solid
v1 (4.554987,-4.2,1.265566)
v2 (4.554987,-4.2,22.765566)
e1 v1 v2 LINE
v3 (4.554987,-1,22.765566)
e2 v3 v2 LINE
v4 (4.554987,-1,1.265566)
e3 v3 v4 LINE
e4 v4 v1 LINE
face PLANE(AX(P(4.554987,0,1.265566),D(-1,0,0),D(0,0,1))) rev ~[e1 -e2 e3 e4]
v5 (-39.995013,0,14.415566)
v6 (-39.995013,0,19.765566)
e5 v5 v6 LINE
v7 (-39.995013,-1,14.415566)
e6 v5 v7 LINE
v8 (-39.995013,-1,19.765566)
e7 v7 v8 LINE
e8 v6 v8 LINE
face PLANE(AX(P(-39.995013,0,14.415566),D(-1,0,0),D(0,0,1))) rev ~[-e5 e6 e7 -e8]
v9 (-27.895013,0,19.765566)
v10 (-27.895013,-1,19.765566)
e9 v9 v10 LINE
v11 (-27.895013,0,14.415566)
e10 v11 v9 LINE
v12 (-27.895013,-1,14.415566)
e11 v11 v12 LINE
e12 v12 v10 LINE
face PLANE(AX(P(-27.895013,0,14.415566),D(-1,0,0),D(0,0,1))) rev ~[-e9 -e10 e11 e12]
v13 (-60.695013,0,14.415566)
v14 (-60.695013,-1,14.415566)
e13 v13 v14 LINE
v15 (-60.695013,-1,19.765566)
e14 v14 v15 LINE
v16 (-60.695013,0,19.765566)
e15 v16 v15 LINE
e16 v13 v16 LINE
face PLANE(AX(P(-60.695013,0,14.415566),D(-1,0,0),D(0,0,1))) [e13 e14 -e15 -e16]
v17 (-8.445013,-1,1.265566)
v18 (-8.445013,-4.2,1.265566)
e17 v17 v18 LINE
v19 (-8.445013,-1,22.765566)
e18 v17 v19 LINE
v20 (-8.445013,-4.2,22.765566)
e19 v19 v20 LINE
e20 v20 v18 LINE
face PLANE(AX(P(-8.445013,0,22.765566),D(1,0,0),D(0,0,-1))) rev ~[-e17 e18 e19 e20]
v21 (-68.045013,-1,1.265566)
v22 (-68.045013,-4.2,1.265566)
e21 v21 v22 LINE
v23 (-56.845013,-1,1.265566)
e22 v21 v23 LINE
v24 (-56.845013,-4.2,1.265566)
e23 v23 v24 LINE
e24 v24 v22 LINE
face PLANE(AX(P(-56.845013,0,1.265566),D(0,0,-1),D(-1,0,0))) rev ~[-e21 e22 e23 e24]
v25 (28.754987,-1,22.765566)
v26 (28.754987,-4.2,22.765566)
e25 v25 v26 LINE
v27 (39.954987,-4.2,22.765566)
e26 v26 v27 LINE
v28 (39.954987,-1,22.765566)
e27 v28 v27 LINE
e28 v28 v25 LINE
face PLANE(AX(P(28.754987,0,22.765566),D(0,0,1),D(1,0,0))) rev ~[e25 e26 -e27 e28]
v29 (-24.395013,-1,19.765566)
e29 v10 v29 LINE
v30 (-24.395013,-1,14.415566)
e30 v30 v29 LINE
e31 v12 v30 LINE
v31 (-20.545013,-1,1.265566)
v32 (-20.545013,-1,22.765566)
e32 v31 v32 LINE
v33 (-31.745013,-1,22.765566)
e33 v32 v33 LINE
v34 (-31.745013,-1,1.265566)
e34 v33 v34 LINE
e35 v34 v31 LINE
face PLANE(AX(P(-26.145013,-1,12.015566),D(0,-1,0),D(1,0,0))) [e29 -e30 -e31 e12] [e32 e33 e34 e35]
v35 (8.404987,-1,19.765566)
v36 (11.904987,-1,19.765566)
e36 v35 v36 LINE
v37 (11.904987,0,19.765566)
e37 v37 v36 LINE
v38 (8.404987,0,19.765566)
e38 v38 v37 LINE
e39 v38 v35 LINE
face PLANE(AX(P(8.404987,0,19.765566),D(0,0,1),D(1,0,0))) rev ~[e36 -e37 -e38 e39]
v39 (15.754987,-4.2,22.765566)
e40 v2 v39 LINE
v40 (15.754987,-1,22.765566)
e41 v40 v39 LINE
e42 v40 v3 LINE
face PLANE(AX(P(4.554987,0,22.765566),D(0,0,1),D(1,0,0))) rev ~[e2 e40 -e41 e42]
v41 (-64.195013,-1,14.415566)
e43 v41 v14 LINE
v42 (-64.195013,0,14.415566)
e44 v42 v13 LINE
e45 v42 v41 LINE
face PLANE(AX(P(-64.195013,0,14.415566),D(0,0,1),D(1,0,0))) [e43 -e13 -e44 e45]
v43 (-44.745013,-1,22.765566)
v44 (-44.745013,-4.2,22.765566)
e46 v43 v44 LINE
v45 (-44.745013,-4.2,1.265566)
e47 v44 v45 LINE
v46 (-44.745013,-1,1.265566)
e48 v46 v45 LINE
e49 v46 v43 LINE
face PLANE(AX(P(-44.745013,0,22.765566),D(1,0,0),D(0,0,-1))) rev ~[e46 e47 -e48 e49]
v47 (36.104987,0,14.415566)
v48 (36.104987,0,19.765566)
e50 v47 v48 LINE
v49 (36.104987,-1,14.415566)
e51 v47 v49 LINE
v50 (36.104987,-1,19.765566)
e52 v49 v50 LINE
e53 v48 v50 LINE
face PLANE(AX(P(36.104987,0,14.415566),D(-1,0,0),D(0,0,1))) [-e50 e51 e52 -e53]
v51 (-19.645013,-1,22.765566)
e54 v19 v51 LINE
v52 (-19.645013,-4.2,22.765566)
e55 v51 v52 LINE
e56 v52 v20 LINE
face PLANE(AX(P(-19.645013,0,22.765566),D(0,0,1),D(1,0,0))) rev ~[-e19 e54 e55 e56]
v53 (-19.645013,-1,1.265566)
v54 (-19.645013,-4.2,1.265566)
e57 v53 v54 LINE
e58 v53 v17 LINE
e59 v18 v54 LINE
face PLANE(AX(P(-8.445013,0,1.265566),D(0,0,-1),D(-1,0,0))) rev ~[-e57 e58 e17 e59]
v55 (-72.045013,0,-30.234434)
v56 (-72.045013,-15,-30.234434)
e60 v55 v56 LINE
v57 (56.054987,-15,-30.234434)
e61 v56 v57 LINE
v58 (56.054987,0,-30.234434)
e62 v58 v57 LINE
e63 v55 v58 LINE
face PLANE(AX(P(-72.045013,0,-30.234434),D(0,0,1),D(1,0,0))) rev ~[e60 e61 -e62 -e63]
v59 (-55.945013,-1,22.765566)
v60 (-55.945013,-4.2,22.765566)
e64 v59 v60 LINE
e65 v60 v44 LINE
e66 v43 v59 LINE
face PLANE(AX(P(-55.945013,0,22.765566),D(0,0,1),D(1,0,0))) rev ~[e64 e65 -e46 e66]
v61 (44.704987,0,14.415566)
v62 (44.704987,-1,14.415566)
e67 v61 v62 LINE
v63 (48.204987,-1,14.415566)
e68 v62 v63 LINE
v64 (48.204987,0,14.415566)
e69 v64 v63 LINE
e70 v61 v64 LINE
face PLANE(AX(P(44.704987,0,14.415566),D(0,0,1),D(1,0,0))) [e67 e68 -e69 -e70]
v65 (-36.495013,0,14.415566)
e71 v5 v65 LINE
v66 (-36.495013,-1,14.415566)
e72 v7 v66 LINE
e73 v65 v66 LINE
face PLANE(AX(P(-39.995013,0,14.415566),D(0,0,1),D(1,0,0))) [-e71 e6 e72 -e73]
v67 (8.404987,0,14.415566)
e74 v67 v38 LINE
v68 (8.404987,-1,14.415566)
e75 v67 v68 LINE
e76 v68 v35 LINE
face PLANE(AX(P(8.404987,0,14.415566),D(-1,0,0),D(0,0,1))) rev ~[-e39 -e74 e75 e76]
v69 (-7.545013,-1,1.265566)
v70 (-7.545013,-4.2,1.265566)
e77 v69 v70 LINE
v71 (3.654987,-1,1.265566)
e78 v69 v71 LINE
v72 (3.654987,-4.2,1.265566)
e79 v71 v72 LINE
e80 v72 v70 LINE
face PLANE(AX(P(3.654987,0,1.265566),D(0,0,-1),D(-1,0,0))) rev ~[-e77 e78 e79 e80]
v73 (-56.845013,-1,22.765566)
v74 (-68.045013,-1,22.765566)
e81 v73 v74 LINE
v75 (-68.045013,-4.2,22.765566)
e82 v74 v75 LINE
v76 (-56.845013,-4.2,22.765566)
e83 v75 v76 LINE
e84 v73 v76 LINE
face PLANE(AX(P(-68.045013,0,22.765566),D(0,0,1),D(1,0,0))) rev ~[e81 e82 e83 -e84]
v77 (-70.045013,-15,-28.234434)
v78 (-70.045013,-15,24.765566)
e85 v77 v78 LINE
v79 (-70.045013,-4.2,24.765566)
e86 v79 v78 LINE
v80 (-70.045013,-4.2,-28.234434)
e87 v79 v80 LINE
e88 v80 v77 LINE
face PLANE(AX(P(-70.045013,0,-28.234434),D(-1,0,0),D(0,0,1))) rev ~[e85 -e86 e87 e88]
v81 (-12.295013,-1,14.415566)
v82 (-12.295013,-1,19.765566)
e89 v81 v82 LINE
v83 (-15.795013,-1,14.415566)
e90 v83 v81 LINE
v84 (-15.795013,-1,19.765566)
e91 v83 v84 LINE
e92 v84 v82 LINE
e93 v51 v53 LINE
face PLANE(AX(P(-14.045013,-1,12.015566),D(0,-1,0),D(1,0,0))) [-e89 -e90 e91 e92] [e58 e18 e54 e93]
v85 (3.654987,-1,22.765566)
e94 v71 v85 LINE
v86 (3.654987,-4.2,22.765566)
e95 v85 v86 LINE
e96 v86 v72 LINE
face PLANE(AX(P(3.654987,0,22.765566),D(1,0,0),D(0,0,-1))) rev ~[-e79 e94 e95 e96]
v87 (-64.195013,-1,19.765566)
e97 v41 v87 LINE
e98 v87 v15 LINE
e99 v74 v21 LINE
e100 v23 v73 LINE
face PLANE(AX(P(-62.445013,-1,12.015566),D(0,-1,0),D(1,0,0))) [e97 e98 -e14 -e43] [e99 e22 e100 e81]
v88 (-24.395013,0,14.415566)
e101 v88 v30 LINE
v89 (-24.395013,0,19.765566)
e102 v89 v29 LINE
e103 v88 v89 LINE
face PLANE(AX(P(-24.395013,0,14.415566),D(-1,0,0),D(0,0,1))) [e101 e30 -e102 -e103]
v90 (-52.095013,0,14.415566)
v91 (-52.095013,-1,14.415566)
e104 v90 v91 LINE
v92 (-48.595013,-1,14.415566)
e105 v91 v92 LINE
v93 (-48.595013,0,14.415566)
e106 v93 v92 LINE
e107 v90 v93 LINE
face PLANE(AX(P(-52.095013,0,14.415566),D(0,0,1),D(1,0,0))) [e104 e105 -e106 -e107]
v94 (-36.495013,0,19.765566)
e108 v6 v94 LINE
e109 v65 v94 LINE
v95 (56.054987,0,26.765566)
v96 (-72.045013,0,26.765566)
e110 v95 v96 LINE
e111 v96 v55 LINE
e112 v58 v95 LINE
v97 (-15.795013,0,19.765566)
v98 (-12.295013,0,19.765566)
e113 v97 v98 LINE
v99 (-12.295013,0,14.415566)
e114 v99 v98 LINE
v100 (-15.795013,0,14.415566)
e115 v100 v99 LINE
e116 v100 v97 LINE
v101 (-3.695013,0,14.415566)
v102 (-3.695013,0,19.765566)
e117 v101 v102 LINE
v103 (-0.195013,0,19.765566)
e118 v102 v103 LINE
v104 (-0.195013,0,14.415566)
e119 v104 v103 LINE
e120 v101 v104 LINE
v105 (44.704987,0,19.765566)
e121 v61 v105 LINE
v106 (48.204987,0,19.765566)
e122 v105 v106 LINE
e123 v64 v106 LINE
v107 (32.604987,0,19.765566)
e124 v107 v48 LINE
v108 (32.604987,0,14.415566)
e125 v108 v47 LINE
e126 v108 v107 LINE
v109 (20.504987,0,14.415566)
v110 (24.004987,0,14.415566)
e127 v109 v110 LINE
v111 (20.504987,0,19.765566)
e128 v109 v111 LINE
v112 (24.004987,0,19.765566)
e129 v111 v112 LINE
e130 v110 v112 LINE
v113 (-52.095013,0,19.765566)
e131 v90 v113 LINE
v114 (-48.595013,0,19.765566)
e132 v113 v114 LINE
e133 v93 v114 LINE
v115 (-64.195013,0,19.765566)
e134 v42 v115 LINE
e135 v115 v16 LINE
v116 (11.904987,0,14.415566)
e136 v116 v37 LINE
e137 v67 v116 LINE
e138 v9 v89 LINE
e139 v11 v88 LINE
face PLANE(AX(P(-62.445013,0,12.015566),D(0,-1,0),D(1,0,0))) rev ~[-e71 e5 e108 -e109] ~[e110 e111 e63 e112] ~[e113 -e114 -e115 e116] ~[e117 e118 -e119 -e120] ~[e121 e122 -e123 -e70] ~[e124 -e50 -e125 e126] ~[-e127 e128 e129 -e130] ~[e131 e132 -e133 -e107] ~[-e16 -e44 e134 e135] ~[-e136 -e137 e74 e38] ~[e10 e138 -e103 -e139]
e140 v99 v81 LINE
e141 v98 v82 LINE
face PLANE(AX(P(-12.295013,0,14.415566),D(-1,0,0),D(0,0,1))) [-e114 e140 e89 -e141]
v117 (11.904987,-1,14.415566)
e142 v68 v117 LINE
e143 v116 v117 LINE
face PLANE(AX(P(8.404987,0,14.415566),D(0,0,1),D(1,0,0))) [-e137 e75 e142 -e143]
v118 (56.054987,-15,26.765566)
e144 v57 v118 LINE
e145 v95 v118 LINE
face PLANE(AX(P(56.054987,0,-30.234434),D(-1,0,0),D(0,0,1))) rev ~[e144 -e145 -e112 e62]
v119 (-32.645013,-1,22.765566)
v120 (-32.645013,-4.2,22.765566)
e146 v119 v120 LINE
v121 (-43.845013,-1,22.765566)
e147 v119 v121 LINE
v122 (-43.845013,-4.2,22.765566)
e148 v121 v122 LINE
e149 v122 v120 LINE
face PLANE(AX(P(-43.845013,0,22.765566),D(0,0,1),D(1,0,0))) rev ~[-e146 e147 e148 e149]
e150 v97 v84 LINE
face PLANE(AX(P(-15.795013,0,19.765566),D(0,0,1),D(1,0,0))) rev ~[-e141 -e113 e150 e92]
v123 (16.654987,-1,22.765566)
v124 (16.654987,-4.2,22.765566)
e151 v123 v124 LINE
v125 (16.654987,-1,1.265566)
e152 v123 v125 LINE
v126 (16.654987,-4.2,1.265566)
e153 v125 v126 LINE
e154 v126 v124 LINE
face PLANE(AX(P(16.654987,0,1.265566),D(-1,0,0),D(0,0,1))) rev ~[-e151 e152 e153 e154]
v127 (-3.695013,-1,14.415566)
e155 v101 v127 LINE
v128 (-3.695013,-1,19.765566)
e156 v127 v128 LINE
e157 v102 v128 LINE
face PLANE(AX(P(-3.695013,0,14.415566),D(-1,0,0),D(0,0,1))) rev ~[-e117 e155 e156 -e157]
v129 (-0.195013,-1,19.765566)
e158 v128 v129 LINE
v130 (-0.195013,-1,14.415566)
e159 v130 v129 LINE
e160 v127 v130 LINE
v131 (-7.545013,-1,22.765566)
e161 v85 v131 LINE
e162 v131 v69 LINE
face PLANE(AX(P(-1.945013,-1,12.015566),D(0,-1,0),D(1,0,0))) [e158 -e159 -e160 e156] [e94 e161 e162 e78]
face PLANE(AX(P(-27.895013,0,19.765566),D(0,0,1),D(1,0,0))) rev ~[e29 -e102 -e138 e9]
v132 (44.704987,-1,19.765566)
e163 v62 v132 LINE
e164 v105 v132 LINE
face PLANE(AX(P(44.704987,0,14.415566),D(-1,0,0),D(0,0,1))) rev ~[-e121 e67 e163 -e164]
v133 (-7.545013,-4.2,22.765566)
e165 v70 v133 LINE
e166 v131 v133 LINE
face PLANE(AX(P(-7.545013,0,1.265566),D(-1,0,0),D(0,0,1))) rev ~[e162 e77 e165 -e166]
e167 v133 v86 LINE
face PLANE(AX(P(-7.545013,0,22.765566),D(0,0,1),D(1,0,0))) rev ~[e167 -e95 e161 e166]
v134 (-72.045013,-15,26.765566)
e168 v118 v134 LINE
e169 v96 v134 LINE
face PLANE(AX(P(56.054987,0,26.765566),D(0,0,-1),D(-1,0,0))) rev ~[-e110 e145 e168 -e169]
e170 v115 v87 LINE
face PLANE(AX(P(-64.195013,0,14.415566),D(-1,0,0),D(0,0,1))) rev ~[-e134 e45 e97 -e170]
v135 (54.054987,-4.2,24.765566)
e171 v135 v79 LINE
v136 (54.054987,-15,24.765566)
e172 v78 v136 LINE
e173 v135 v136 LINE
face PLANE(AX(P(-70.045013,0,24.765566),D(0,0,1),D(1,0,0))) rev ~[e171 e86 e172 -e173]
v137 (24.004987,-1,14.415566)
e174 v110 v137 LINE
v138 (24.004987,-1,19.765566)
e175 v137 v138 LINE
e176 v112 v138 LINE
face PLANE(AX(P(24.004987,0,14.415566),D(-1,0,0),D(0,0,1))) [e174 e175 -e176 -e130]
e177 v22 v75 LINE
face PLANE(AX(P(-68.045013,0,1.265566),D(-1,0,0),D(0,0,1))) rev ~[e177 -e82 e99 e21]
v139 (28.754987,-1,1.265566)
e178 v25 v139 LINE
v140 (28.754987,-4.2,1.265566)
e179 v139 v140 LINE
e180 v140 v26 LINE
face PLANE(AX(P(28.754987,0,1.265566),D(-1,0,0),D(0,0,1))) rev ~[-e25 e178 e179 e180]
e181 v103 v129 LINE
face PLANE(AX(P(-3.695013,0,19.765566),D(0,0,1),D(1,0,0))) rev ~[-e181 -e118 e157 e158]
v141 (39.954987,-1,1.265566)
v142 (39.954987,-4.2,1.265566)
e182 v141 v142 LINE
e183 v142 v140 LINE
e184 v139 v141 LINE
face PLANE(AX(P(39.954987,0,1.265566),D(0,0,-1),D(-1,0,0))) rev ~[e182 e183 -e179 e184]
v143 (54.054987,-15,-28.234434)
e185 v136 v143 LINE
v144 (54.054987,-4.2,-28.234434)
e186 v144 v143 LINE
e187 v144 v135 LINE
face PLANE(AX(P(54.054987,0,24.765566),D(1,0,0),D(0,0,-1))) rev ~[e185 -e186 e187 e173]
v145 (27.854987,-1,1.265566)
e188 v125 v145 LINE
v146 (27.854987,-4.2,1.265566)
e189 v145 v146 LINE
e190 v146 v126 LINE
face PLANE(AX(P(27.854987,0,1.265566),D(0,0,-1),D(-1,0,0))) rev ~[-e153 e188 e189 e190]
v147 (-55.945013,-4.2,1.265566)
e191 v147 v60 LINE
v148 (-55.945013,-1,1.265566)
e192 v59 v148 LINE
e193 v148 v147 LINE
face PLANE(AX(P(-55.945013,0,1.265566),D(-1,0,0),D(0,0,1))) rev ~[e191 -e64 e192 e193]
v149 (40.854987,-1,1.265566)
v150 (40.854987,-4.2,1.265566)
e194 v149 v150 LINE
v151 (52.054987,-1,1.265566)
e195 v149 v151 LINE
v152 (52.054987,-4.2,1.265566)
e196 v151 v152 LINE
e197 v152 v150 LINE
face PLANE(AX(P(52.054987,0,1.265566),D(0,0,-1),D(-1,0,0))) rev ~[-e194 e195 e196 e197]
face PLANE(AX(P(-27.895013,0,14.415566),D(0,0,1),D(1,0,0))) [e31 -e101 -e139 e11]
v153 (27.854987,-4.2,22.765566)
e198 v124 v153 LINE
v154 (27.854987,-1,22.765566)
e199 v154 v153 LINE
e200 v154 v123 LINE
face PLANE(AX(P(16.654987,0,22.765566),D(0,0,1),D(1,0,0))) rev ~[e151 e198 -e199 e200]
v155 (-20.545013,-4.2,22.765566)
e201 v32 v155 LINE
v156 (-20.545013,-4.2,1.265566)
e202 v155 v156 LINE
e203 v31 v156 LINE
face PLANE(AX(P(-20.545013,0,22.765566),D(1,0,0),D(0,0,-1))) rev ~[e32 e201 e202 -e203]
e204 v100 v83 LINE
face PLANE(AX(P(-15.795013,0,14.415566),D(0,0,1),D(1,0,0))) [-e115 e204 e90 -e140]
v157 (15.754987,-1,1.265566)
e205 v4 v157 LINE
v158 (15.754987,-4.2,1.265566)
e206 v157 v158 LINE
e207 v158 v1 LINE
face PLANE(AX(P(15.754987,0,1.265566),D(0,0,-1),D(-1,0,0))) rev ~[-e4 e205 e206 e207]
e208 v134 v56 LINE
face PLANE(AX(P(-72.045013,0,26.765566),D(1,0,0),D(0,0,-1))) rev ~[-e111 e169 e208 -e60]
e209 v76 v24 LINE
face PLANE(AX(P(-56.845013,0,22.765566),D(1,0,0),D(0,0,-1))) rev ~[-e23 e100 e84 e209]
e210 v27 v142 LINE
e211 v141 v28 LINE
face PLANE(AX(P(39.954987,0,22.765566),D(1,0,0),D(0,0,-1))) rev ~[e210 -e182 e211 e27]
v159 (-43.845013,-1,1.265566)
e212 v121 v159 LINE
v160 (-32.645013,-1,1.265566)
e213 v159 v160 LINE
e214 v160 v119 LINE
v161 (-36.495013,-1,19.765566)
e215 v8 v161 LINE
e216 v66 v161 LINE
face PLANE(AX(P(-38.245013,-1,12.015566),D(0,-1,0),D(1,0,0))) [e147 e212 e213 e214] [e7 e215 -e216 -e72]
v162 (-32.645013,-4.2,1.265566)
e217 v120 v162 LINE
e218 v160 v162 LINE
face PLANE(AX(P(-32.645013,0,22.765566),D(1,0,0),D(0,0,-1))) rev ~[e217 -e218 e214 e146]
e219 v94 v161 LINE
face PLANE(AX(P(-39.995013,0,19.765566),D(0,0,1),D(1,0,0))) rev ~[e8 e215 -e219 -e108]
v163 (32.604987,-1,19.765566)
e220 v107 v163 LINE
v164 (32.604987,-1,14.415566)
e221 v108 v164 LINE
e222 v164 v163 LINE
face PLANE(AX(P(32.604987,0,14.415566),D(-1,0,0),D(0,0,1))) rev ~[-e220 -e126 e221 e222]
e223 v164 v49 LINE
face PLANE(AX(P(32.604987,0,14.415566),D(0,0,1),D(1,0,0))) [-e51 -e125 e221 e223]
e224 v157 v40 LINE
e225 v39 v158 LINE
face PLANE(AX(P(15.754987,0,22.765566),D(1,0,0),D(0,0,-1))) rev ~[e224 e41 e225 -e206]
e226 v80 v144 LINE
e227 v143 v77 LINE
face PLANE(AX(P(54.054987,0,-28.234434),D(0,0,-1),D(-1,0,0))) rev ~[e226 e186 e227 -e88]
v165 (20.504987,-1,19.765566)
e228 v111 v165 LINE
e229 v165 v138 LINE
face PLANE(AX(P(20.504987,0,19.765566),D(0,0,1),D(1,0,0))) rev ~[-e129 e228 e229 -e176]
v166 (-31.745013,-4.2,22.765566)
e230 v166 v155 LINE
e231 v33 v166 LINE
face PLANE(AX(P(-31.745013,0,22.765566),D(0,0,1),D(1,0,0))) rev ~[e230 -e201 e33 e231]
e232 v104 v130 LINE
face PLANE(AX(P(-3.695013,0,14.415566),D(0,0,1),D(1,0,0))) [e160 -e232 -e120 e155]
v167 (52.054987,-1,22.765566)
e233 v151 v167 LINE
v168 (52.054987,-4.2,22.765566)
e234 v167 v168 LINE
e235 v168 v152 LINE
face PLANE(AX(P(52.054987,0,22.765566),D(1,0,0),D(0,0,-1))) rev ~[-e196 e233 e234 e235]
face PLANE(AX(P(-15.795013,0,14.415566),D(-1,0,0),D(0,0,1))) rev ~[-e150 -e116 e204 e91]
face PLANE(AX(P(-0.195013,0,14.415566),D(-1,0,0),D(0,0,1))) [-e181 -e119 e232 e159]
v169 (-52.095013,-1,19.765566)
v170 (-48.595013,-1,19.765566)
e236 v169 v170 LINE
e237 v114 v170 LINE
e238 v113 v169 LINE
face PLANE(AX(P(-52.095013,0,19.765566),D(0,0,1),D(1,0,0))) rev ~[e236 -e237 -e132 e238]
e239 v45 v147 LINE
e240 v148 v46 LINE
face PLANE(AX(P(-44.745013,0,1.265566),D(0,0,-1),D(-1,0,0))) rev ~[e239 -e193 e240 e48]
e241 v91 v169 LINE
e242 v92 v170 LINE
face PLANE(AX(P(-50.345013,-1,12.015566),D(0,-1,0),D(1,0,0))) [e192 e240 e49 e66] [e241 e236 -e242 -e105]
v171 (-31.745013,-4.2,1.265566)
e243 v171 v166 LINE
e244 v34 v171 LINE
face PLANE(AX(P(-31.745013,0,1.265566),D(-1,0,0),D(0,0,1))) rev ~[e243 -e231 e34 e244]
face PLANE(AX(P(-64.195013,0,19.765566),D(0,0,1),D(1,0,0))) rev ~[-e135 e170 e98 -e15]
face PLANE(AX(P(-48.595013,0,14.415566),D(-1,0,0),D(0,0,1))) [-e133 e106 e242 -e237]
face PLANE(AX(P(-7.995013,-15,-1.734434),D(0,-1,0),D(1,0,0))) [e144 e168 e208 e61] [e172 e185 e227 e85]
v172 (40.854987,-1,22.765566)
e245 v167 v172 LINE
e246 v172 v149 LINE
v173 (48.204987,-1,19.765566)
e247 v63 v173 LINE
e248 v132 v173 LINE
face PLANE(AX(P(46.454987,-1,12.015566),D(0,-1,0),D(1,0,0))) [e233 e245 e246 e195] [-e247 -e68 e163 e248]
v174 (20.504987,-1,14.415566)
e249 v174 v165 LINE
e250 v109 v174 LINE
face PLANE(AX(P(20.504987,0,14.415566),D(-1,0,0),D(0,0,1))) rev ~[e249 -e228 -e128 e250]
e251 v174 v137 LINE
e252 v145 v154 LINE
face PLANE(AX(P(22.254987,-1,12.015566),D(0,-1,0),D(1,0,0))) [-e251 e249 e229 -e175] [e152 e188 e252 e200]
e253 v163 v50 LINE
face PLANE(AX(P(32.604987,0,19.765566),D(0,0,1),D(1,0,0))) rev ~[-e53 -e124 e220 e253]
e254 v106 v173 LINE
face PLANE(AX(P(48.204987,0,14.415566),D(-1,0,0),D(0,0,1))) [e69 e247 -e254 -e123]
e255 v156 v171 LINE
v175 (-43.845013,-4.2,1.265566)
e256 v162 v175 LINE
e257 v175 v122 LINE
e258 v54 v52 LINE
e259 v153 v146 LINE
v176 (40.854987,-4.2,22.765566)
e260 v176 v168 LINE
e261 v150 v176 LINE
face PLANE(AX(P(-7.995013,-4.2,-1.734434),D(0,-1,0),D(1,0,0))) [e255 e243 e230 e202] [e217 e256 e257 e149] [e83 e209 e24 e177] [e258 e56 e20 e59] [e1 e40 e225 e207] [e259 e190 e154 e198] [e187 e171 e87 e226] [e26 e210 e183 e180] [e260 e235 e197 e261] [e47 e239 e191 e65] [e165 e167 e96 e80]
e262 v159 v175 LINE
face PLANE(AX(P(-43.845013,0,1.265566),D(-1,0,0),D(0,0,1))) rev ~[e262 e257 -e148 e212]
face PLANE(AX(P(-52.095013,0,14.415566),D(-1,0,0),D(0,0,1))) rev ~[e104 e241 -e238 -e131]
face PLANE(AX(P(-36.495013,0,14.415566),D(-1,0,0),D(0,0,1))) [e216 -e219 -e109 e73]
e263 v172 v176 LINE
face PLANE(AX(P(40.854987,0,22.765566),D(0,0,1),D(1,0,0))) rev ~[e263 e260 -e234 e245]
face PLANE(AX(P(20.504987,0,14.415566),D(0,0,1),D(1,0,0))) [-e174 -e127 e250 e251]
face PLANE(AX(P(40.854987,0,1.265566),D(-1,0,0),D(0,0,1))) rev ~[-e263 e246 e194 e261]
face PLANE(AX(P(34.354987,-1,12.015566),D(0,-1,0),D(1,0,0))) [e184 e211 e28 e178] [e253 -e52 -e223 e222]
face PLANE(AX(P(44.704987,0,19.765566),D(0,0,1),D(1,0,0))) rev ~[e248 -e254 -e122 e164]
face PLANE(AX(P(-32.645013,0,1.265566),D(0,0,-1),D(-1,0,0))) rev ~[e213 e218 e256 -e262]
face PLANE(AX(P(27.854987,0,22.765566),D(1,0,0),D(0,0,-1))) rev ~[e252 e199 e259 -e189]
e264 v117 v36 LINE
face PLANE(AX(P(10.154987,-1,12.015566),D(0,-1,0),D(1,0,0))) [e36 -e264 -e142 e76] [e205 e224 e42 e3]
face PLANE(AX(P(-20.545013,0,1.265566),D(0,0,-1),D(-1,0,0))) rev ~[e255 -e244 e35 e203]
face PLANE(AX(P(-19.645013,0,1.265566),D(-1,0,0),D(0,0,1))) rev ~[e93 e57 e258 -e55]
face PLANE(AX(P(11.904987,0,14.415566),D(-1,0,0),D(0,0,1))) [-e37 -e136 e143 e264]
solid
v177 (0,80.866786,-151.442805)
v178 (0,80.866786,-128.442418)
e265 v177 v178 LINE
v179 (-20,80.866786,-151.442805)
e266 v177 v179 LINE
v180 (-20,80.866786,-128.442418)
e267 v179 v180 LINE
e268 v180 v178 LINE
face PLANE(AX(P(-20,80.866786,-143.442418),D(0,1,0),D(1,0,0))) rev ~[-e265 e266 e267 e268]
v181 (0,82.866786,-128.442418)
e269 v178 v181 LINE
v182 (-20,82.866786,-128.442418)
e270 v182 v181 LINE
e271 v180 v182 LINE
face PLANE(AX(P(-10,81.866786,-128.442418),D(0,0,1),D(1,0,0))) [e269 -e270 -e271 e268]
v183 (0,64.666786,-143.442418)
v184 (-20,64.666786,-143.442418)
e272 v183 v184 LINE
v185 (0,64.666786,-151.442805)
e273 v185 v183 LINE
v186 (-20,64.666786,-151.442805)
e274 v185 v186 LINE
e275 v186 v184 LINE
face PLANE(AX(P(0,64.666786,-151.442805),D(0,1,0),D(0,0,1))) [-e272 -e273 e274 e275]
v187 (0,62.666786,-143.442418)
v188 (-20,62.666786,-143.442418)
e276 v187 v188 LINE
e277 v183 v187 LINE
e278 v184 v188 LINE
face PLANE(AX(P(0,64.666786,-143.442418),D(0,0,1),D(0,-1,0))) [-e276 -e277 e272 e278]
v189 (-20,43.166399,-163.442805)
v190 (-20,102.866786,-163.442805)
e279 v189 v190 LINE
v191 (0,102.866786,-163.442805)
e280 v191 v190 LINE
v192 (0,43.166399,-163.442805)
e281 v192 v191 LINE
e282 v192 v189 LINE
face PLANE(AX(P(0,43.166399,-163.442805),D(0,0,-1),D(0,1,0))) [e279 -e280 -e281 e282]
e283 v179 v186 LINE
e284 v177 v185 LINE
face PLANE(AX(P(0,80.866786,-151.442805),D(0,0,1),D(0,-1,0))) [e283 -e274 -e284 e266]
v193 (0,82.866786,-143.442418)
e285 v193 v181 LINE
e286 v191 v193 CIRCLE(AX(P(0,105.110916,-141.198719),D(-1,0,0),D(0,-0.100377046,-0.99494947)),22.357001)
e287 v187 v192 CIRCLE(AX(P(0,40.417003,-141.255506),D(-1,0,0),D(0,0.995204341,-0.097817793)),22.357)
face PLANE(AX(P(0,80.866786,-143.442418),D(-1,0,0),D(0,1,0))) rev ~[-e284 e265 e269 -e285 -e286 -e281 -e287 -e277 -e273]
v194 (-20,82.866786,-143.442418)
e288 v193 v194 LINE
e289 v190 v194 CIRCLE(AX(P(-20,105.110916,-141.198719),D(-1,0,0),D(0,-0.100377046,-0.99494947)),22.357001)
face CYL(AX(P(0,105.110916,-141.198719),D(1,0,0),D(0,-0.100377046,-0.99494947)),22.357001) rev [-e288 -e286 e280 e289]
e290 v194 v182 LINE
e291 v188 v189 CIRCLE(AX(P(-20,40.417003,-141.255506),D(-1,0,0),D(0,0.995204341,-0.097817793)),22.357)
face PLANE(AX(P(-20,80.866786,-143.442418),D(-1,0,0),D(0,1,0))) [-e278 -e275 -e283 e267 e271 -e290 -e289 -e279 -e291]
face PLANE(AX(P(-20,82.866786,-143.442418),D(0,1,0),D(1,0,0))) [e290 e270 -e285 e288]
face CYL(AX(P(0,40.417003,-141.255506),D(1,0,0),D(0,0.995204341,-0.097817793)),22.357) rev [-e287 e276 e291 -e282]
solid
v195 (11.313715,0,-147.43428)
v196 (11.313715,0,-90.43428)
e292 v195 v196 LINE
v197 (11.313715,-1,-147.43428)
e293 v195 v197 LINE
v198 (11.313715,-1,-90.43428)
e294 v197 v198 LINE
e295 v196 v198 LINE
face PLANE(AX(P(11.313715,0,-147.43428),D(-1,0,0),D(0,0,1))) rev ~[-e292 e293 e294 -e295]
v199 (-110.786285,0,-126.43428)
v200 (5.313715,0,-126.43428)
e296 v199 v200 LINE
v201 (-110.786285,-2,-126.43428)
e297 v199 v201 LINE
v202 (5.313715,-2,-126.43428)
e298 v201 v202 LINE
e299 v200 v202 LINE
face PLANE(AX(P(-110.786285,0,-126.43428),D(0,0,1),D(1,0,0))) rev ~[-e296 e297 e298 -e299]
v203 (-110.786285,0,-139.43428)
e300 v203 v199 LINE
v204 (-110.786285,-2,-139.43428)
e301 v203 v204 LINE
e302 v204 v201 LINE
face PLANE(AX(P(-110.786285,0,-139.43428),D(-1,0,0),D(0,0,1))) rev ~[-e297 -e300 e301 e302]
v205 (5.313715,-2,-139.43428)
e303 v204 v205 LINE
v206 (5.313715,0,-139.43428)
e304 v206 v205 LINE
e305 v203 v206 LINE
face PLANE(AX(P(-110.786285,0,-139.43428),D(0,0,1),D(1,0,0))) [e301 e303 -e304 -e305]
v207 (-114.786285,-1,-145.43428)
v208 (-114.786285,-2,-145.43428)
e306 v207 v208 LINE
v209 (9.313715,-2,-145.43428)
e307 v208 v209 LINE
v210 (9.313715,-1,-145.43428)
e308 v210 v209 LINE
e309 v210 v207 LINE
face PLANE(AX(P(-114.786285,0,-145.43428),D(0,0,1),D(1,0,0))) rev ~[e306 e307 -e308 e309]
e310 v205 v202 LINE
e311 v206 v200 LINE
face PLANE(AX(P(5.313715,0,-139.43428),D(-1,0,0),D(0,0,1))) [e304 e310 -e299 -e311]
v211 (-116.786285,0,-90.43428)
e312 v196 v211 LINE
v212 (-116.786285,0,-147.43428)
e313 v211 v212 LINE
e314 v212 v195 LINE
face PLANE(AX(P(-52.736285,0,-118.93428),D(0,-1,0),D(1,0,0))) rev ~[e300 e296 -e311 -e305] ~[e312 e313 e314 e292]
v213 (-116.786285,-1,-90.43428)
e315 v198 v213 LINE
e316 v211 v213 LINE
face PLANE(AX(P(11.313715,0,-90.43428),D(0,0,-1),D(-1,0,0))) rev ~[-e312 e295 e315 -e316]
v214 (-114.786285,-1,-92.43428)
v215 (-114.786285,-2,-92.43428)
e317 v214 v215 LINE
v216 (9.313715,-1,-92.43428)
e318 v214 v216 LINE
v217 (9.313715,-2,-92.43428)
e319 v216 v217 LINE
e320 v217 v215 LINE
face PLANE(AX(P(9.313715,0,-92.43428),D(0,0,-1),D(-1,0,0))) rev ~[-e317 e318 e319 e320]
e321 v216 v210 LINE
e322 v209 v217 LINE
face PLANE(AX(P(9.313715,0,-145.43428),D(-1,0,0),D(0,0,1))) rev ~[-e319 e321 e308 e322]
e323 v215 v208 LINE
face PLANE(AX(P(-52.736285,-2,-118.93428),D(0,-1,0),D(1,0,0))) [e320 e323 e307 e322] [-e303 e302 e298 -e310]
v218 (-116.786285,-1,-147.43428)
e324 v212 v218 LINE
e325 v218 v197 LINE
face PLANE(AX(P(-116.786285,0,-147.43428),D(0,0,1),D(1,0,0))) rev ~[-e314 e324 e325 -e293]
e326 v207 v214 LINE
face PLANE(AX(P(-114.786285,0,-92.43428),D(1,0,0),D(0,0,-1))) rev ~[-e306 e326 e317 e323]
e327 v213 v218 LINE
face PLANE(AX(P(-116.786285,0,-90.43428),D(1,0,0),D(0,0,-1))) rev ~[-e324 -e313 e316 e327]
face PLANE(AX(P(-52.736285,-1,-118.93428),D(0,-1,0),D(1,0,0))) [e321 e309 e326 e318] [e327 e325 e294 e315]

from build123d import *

# Parameters (mm, degrees)
F1_DEPTH  = 15
F2_DEPTH  = 4.2
F0_W      = 3.5
F0_H      = 5.35
F3_DEPTH  = 1
F4_W      = 116.1
F4_H      = 13
F5_DEPTH  = 2
F6_DEPTH  = 1
F8_DEPTH  = 20
F8_FACE_W = 20
F8_FACE_H = 2
F9_DEPTH  = 15


with BuildPart() as f1:
    # F0 (on Front) → F1 (new body)
    with BuildSketch(Plane.XZ):
        Polygon((-70.045013, 26.765566), (-72.045013, 26.765566), (-72.045013, -30.234434), (56.054987, -30.234434), (56.054987, 26.765566), align=None)
        Polygon((-70.045013, -28.234434), (-70.045013, 24.765566), (-68.045013, 24.765566), (54.054987, 24.765566), (54.054987, -28.234434), align=None, mode=Mode.SUBTRACT)
    extrude(amount=F1_DEPTH)

    # F0 (on Front) → F2 (join)
    with BuildSketch(Plane.XZ):
        Polygon((-68.045013, 24.765566), (-70.045013, 24.765566), (-70.045013, -28.234434), (54.054987, -28.234434), (54.054987, 24.765566), align=None)
        Polygon((-68.045013, 1.265566), (-68.045013, 22.765566), (-64.195013, 22.765566), (-56.845013, 22.765566), (-56.845013, 1.265566), align=None, mode=Mode.SUBTRACT)
        Polygon((-55.945013, 1.265566), (-55.945013, 22.765566), (-52.095013, 22.765566), (-44.745013, 22.765566), (-44.745013, 1.265566), align=None, mode=Mode.SUBTRACT)
        Polygon((-43.845013, 1.265566), (-43.845013, 22.765566), (-39.995013, 22.765566), (-32.645013, 22.765566), (-32.645013, 1.265566), align=None, mode=Mode.SUBTRACT)
        Polygon((-31.745013, 1.265566), (-31.745013, 22.765566), (-27.895013, 22.765566), (-20.545013, 22.765566), (-20.545013, 1.265566), align=None, mode=Mode.SUBTRACT)
        Polygon((-19.645013, 1.265566), (-19.645013, 22.765566), (-15.795013, 22.765566), (-8.445013, 22.765566), (-8.445013, 1.265566), align=None, mode=Mode.SUBTRACT)
        Polygon((-7.545013, 1.265566), (-7.545013, 22.765566), (-3.695013, 22.765566), (3.654987, 22.765566), (3.654987, 1.265566), align=None, mode=Mode.SUBTRACT)
        Polygon((4.554987, 1.265566), (4.554987, 22.765566), (8.404987, 22.765566), (15.754987, 22.765566), (15.754987, 1.265566), align=None, mode=Mode.SUBTRACT)
        Polygon((16.654987, 1.265566), (16.654987, 22.765566), (20.504987, 22.765566), (27.854987, 22.765566), (27.854987, 1.265566), align=None, mode=Mode.SUBTRACT)
        Polygon((28.754987, 1.265566), (28.754987, 22.765566), (32.604987, 22.765566), (39.954987, 22.765566), (39.954987, 1.265566), align=None, mode=Mode.SUBTRACT)
        Polygon((40.854987, 1.265566), (40.854987, 22.765566), (44.704987, 22.765566), (48.788905, 22.765566), (52.054987, 22.765566), (52.054987, 1.265566), align=None, mode=Mode.SUBTRACT)
    extrude(amount=F2_DEPTH)

    # F0 (on Front) → F3 (join)
    with BuildSketch(Plane.XZ):
        Polygon((-64.195013, 22.765566), (-68.045013, 22.765566), (-68.045013, 1.265566), (-56.845013, 1.265566), (-56.845013, 22.765566), align=None)
        with Locations((-62.445013, 17.090566)):
            Rectangle(F0_W, F0_H, mode=Mode.SUBTRACT)
        Polygon((-52.095013, 22.765566), (-55.945013, 22.765566), (-55.945013, 1.265566), (-44.745013, 1.265566), (-44.745013, 22.765566), align=None)
        with Locations((-50.345013, 17.090566)):
            Rectangle(F0_W, F0_H, mode=Mode.SUBTRACT)
        Polygon((-39.995013, 22.765566), (-43.845013, 22.765566), (-43.845013, 1.265566), (-32.645013, 1.265566), (-32.645013, 22.765566), align=None)
        with Locations((-38.245013, 17.090566)):
            Rectangle(F0_W, F0_H, mode=Mode.SUBTRACT)
        Polygon((-27.895013, 22.765566), (-31.745013, 22.765566), (-31.745013, 1.265566), (-20.545013, 1.265566), (-20.545013, 22.765566), align=None)
        with Locations((-26.145013, 17.090566)):
            Rectangle(F0_W, F0_H, mode=Mode.SUBTRACT)
        Polygon((-15.795013, 22.765566), (-19.645013, 22.765566), (-19.645013, 1.265566), (-8.445013, 1.265566), (-8.445013, 22.765566), align=None)
        with Locations((-14.045013, 17.090566)):
            Rectangle(F0_W, F0_H, mode=Mode.SUBTRACT)
        Polygon((-3.695013, 22.765566), (-7.545013, 22.765566), (-7.545013, 1.265566), (3.654987, 1.265566), (3.654987, 22.765566), align=None)
        with Locations((-1.945013, 17.090566)):
            Rectangle(F0_W, F0_H, mode=Mode.SUBTRACT)
        Polygon((8.404987, 22.765566), (4.554987, 22.765566), (4.554987, 1.265566), (15.754987, 1.265566), (15.754987, 22.765566), align=None)
        with Locations((10.154987, 17.090566)):
            Rectangle(F0_W, F0_H, mode=Mode.SUBTRACT)
        Polygon((20.504987, 22.765566), (16.654987, 22.765566), (16.654987, 1.265566), (27.854987, 1.265566), (27.854987, 22.765566), align=None)
        with Locations((22.254987, 17.090566)):
            Rectangle(F0_W, F0_H, mode=Mode.SUBTRACT)
        Polygon((32.604987, 22.765566), (28.754987, 22.765566), (28.754987, 1.265566), (39.954987, 1.265566), (39.954987, 22.765566), align=None)
        with Locations((34.354987, 17.090566)):
            Rectangle(F0_W, F0_H, mode=Mode.SUBTRACT)
        Polygon((44.704987, 22.765566), (40.854987, 22.765566), (40.854987, 1.265566), (52.054987, 1.265566), (52.054987, 22.765566), (48.788905, 22.765566), align=None)
        with Locations((46.454987, 17.090566)):
            Rectangle(F0_W, F0_H, mode=Mode.SUBTRACT)
    extrude(amount=F3_DEPTH)


with BuildPart() as f5:
    # F4 (on Front) → F5 (new body)
    with BuildSketch(Plane.XZ):
        Polygon((-112.786285, -92.43428), (-114.786285, -92.43428), (-114.786285, -139.43428), (-114.786285, -145.43428), (9.313715, -145.43428), (9.313715, -92.43428), align=None)
        with Locations((-52.736285, -132.93428)):
            Rectangle(F4_W, F4_H, mode=Mode.SUBTRACT)
    extrude(amount=F5_DEPTH)

    # F4 (on Front) → F6 (join)
    with BuildSketch(Plane.XZ):
        Polygon((-114.786285, -90.43428), (-116.786285, -90.43428), (-116.786285, -147.43428), (11.313715, -147.43428), (11.313715, -90.43428), align=None)
        Polygon((-114.786285, -139.43428), (-114.786285, -92.43428), (-112.786285, -92.43428), (9.313715, -92.43428), (9.313715, -145.43428), (-114.786285, -145.43428), align=None, mode=Mode.SUBTRACT)
    extrude(amount=F6_DEPTH)


with BuildPart() as f8:
    # F7 (on Right) → F8 (new body)
    with BuildSketch(Plane.YZ):
        with BuildLine():
            Line((64.666786, -143.442418), (62.666786, -143.442418))
            ThreePointArc((62.666786, -143.442418), (56.424614, -156.862934), (43.166399, -163.442805))
            Line((43.166399, -163.442805), (63.166399, -163.442805))
            Line((63.166399, -163.442805), (82.866786, -163.442805))
            Line((82.866786, -163.442805), (102.866786, -163.442805))
            ThreePointArc((102.866786, -163.442805), (89.301976, -157.007353), (82.866786, -143.442418))
            Line((82.866786, -143.442418), (80.866786, -143.442418))
            Line((80.866786, -143.442418), (80.866786, -151.442805))
            Line((80.866786, -151.442805), (64.666786, -151.442805))
            Line((64.666786, -151.442805), (64.666786, -143.442418))
        make_face()
    extrude(amount=-F8_DEPTH)

    # F8_face (on face) → F9 (join)
    with BuildSketch(Plane(origin=(-10, 81.866786, -143.442418), x_dir=(1, 0, 0), z_dir=(0, 0, 1))):
        Rectangle(F8_FACE_W, F8_FACE_H)
    extrude(amount=F9_DEPTH)


solid = Compound([f1.part, f5.part, f8.part])
